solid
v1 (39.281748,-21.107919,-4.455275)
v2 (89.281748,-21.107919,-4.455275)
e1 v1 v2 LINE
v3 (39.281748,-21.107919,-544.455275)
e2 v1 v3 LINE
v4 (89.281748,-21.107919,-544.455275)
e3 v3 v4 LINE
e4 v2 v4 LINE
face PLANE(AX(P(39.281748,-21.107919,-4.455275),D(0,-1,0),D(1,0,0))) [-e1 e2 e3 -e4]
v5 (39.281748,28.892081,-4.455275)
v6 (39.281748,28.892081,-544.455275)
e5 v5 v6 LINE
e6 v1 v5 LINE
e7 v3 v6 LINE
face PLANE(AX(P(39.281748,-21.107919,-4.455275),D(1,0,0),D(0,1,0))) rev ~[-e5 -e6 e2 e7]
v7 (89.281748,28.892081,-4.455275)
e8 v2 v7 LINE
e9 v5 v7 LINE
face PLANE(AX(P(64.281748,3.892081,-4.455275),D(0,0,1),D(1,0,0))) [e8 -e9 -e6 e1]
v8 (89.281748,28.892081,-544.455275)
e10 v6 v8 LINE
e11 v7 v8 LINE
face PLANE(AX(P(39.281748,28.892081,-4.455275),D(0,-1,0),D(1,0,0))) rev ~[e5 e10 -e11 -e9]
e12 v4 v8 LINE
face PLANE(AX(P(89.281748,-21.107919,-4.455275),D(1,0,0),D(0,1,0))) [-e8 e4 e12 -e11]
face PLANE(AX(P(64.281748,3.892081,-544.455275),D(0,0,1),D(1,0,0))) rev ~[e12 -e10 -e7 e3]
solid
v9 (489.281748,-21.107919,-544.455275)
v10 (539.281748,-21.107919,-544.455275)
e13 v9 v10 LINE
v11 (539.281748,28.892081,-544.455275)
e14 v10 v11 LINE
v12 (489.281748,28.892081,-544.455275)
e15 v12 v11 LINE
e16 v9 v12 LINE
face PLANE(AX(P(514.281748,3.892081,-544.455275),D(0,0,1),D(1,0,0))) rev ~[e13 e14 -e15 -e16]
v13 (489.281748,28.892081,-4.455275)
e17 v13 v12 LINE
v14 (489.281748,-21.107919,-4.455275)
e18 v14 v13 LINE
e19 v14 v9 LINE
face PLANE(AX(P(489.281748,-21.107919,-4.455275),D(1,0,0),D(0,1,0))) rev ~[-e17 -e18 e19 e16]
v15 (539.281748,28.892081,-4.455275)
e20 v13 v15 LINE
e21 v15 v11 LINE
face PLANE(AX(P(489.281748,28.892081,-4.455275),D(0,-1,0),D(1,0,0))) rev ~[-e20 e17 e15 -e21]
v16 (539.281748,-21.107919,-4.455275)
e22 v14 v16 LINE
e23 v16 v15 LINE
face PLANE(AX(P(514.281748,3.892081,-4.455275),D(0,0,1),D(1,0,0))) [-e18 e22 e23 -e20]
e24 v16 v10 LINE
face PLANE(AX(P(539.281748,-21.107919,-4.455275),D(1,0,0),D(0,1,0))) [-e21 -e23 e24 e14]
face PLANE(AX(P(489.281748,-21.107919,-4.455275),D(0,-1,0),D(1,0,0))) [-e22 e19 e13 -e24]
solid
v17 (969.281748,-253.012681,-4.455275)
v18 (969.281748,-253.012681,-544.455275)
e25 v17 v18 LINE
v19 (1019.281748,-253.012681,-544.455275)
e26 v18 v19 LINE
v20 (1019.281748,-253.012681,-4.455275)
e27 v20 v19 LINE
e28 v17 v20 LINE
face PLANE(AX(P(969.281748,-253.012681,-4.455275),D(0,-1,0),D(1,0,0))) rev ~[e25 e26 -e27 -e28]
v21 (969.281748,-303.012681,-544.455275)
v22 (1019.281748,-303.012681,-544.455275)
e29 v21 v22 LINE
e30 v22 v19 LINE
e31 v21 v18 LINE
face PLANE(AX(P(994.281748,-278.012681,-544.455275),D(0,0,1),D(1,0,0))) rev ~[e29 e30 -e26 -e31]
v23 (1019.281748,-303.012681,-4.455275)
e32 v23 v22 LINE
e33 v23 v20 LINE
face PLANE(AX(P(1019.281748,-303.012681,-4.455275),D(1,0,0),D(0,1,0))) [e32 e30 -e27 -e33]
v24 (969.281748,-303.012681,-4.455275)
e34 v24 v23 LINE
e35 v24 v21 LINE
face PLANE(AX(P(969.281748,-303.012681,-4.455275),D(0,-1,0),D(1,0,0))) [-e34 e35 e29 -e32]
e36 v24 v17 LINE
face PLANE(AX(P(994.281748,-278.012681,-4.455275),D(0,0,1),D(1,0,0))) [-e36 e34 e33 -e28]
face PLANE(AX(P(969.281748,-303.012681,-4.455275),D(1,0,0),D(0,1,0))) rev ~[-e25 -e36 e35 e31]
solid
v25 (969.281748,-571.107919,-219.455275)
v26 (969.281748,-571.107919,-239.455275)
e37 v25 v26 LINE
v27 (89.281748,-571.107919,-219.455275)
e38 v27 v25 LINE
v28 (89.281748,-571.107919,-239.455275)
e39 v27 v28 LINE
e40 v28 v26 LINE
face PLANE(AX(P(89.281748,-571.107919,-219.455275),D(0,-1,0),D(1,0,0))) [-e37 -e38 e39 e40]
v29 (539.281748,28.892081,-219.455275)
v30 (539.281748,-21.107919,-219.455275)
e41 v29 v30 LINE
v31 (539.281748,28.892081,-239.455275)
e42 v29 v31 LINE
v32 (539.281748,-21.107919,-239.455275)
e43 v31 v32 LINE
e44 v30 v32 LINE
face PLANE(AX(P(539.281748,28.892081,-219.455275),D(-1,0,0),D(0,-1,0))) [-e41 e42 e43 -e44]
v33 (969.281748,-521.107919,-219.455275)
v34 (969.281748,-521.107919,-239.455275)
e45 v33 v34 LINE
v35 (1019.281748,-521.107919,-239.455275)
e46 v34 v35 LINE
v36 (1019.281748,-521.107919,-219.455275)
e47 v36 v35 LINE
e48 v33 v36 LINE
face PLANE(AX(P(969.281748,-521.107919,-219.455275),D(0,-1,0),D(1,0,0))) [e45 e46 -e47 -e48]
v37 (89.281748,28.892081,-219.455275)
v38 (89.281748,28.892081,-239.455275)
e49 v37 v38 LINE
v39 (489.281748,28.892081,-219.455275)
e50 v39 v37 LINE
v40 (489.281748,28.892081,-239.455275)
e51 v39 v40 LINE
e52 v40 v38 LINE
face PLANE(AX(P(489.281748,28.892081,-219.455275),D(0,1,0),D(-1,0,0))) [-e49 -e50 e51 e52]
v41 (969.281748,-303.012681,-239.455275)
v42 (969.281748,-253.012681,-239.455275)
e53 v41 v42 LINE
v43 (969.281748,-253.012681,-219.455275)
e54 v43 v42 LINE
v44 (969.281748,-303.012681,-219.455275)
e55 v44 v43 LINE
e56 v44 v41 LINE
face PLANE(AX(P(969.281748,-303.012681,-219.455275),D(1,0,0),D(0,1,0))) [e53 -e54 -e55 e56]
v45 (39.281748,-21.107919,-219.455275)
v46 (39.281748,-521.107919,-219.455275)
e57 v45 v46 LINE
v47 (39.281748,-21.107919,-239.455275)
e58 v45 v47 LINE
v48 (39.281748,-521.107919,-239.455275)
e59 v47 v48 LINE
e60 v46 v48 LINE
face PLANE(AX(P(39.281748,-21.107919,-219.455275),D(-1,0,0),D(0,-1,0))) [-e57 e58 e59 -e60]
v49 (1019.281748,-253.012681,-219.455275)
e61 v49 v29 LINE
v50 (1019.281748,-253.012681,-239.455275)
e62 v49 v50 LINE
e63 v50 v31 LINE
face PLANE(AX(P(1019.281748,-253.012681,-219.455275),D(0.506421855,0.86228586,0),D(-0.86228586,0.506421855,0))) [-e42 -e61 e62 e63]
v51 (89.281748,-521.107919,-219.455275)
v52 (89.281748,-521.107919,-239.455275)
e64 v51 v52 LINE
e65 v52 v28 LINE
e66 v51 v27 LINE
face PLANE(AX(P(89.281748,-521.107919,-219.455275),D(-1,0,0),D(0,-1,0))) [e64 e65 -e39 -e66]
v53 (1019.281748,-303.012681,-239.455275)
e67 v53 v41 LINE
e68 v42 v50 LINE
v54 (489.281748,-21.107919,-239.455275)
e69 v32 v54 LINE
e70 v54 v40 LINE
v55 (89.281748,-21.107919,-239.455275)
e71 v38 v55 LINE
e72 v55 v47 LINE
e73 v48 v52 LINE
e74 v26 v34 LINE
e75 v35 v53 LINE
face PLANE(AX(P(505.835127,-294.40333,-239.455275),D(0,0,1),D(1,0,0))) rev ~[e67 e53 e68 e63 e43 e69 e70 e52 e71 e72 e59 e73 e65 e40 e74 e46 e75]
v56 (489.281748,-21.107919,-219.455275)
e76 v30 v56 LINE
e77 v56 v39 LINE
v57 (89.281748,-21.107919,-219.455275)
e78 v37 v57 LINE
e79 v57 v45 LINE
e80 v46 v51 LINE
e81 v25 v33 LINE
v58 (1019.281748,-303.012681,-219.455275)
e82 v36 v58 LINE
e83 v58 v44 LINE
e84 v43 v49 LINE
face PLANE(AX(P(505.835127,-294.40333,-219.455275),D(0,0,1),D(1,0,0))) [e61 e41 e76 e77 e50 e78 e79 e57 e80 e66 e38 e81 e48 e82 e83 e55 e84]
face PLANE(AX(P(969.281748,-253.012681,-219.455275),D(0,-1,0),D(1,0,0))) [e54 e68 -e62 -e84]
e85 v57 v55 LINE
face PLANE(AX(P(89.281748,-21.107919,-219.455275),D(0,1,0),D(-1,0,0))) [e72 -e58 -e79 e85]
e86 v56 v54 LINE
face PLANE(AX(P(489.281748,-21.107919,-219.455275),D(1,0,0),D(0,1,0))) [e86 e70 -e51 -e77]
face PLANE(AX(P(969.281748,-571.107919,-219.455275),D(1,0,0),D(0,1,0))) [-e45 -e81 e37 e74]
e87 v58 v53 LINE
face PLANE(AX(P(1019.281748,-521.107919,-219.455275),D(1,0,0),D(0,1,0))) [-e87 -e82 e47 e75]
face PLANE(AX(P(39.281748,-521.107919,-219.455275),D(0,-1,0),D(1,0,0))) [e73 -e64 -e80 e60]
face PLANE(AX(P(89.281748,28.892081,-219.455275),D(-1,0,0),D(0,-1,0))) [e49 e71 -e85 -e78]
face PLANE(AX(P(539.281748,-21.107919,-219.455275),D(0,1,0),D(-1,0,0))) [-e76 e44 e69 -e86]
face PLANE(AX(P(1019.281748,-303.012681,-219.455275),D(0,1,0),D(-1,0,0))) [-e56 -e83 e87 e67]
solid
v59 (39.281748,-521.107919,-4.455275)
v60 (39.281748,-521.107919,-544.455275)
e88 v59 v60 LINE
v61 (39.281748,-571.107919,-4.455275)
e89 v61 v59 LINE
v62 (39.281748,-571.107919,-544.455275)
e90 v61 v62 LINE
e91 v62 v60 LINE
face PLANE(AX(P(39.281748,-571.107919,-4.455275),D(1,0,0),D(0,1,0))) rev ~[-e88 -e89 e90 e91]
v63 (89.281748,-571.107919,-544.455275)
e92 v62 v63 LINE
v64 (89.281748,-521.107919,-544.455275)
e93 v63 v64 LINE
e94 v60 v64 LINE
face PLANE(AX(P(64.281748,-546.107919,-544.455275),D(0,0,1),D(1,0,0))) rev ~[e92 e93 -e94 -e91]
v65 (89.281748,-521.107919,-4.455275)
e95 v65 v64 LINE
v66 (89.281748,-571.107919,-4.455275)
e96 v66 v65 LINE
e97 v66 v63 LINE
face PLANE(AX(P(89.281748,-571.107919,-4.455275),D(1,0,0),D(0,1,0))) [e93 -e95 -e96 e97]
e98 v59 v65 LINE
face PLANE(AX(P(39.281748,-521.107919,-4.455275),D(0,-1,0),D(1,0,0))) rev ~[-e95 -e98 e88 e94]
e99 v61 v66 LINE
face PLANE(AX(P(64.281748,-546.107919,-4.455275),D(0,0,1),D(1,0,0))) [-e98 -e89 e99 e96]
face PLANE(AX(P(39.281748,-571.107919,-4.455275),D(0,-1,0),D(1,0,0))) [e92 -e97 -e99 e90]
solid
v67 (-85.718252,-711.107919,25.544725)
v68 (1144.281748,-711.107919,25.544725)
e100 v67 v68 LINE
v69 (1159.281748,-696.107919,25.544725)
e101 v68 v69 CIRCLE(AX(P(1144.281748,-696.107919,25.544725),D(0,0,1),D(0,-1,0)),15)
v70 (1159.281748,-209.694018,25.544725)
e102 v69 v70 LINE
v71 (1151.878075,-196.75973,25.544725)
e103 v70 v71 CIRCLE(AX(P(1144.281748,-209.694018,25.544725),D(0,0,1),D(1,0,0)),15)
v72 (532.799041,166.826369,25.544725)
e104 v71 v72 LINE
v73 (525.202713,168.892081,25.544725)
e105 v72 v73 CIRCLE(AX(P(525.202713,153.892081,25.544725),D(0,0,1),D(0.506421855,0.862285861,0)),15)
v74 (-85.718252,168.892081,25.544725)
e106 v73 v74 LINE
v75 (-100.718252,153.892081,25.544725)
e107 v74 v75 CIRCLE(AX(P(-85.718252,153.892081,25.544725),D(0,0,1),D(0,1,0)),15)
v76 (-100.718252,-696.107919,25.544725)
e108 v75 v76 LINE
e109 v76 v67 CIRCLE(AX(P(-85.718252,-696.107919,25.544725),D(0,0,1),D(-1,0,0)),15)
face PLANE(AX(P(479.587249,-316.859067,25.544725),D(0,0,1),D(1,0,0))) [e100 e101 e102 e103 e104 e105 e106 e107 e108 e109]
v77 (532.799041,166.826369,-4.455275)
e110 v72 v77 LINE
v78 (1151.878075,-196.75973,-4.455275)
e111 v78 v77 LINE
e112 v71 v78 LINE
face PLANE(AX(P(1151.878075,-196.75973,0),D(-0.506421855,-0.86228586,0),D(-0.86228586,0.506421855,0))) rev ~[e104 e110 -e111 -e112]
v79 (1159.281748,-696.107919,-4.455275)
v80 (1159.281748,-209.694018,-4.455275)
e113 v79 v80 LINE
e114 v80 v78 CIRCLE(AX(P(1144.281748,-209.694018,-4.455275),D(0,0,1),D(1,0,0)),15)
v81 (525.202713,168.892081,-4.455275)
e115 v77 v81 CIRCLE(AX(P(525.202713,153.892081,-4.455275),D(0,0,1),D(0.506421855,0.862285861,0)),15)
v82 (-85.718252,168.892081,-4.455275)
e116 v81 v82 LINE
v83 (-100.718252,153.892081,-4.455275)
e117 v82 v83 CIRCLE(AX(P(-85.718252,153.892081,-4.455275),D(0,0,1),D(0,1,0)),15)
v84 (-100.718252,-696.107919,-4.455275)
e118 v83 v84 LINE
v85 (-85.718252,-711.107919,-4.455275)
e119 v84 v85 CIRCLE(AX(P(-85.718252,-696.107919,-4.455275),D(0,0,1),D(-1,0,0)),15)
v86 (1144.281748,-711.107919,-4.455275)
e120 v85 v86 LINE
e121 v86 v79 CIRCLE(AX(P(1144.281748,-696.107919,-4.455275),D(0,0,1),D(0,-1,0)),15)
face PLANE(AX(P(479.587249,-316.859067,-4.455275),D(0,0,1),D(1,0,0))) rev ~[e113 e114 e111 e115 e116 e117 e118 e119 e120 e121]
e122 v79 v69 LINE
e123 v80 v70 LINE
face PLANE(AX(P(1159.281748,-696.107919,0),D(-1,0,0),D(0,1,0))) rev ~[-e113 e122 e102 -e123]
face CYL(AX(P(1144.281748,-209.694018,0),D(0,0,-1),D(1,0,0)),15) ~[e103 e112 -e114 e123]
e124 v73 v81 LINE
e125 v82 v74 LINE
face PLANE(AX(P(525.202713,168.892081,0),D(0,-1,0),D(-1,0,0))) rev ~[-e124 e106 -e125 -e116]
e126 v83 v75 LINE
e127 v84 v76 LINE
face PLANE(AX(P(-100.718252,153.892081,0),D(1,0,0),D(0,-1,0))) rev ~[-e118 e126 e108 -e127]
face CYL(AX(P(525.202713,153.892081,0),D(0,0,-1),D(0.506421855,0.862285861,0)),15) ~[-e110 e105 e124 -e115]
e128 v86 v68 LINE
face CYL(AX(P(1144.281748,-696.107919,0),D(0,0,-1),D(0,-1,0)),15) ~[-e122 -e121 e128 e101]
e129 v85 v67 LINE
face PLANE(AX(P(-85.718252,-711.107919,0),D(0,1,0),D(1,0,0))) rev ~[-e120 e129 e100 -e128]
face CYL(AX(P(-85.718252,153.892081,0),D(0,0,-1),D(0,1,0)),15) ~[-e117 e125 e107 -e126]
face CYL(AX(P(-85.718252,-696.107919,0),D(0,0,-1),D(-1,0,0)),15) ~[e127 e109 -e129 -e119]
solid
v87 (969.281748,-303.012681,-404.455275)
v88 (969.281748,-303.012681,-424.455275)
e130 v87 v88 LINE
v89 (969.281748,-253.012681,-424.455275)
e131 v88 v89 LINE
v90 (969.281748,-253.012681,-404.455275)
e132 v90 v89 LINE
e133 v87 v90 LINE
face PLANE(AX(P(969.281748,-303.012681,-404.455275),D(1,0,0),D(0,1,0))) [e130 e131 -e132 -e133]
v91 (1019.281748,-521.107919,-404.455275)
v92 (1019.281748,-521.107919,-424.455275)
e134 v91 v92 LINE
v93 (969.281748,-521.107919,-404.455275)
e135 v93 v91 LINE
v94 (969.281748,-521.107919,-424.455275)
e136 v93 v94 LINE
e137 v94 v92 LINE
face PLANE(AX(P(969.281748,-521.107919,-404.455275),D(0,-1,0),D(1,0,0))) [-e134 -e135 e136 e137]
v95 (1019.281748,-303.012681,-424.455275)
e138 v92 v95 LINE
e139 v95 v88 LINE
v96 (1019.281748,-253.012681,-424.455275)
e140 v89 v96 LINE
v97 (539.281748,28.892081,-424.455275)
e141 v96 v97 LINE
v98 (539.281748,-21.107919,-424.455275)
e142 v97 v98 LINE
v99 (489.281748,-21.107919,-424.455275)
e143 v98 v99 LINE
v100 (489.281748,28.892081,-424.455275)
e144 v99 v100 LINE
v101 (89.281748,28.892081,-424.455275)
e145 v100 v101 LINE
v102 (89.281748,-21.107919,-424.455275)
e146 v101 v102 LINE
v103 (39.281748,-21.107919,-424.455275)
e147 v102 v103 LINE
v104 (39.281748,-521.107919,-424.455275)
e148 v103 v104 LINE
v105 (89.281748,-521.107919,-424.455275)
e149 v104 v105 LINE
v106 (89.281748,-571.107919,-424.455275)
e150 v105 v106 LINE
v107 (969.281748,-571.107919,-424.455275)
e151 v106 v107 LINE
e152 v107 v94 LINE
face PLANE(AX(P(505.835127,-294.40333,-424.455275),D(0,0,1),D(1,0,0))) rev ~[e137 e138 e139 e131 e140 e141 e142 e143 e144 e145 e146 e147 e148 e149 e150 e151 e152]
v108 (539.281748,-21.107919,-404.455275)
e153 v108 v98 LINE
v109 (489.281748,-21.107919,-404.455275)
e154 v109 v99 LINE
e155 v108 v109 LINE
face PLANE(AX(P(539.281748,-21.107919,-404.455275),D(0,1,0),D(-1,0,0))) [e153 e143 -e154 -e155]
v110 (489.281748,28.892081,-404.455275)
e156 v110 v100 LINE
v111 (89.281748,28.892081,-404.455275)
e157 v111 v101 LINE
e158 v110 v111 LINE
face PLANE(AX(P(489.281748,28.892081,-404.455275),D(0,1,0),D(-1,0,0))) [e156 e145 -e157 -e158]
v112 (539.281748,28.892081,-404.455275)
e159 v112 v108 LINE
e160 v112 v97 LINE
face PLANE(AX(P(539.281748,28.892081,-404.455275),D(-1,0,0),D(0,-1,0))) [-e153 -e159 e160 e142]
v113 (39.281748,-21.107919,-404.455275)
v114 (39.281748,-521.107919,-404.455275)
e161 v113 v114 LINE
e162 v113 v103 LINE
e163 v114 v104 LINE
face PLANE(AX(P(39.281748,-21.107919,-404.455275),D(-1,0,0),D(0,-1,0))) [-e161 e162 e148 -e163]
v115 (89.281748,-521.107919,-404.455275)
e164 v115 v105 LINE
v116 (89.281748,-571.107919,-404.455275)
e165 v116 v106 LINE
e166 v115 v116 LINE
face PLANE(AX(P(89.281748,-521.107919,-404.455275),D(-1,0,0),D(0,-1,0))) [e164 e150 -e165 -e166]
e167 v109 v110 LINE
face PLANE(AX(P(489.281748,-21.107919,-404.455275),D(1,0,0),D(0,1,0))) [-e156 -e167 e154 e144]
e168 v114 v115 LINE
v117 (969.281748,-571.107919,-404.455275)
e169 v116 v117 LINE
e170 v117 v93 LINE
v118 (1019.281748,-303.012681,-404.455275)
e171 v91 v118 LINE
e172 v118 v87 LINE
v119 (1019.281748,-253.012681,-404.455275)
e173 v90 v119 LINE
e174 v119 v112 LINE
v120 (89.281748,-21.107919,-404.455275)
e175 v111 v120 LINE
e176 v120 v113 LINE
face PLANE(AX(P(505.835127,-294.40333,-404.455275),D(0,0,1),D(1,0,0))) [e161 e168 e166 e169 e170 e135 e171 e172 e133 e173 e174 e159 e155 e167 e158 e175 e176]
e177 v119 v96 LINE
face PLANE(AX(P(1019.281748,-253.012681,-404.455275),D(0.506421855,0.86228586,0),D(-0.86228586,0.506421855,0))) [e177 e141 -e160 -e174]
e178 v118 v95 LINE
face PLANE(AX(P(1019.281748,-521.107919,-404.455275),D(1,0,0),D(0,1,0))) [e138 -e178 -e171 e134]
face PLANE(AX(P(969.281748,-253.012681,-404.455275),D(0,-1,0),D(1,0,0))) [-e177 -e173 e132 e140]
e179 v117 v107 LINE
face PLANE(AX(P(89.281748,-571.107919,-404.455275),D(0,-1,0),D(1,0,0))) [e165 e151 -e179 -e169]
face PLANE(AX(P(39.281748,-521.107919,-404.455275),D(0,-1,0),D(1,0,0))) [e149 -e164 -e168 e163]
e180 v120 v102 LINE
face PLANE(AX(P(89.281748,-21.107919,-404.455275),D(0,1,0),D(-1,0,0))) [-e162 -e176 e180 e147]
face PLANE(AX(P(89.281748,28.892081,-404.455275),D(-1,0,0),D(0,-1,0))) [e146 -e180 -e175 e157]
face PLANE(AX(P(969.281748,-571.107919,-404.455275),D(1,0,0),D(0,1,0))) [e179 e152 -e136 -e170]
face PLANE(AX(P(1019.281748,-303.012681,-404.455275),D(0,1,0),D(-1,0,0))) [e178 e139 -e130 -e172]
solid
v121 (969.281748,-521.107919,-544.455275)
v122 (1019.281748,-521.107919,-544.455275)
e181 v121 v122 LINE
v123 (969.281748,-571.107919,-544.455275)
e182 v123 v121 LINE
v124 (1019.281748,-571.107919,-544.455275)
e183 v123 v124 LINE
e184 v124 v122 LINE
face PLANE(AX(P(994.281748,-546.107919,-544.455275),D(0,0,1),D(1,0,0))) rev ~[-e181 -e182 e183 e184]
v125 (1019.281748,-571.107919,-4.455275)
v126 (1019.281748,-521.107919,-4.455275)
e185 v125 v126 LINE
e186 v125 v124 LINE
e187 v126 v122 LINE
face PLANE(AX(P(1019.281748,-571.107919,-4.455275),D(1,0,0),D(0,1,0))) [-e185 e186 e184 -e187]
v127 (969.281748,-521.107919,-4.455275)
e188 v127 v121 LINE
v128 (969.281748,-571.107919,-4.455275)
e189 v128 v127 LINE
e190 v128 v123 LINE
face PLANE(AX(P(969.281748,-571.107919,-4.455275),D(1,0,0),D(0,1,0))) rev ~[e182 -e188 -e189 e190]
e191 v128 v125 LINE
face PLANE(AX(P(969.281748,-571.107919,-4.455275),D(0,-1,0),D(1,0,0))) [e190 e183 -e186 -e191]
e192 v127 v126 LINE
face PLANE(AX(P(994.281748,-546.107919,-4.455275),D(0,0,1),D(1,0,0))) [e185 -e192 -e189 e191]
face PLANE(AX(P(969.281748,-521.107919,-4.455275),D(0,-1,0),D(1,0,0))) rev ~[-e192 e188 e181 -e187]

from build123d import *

# Parameters (mm, degrees)
F2_START      = -4.4552753679
F0_W          = 50
F0_H          = 50
F2_DEPTH      = 540
F3_DEPTH      = 4.4552753679
F3_DEPTH_BACK = 25.5447246321
F4_START      = -404.4552753679
F4_DEPTH      = 20
F5_START      = -219.4552753679
F5_DEPTH      = 20


with BuildPart() as f2:
    # F0 (on Top) → F2 (new body)
    with BuildSketch(Plane.XY.offset(F2_START)):
        with Locations((64.2817475274, -546.1079187691)):
            Rectangle(F0_W, F0_H)
    extrude(amount=-F2_DEPTH)


with BuildPart() as f2b:
    # F0 (on Top) → F2, piece 2 (new body)
    with BuildSketch(Plane.XY.offset(F2_START)):
        with Locations((994.2817475274, -546.1079187691)):
            Rectangle(F0_W, F0_H)
    extrude(amount=-F2_DEPTH)


with BuildPart() as f2c:
    # F0 (on Top) → F2, piece 3 (new body)
    with BuildSketch(Plane.XY.offset(F2_START)):
        with Locations((994.2817475274, -278.0126806739)):
            Rectangle(F0_W, F0_H)
    extrude(amount=-F2_DEPTH)


with BuildPart() as f2d:
    # F0 (on Top) → F2, piece 4 (new body)
    with BuildSketch(Plane.XY.offset(F2_START)):
        with Locations((514.2817475274, 3.8920812309)):
            Rectangle(F0_W, F0_H)
    extrude(amount=-F2_DEPTH)


with BuildPart() as f2e:
    # F0 (on Top) → F2, piece 5 (new body)
    with BuildSketch(Plane.XY.offset(F2_START)):
        with Locations((64.2817475274, 3.8920812309)):
            Rectangle(F0_W, F0_H)
    extrude(amount=-F2_DEPTH)


with BuildPart() as f3:
    # F0 (on Top) → F3 (new body, two sides)
    with BuildSketch(Plane.XY) as f3_sk:
        with BuildLine():
            Line((525.2027132718, 168.8920812309), (-85.7182524726, 168.8920812309))
            ThreePointArc((-85.7182524726, 168.8920812309), (-96.3248541904, 164.4986829487), (-100.7182524726, 153.8920812309))
            Line((-100.7182524726, 153.8920812309), (-100.7182524726, -696.1079187691))
            ThreePointArc((-100.7182524726, -696.1079187691), (-96.3248541904, -706.7145204869), (-85.7182524726, -711.1079187691))
            Line((-85.7182524726, -711.1079187691), (1144.2817475274, -711.1079187691))
            ThreePointArc((1144.2817475274, -711.1079187691), (1154.8883492452, -706.7145204869), (1159.2817475274, -696.1079187691))
            Line((1159.2817475274, -696.1079187691), (1159.2817475274, -209.6940182526))
            ThreePointArc((1159.2817475274, -209.6940182526), (1157.2999063312, -202.2423378139), (1151.8780753461, -196.7597303451))
            Line((1151.8780753461, -196.7597303451), (532.7990410905, 166.8263691383))
            ThreePointArc((532.7990410905, 166.8263691383), (529.1388078711, 168.366443369), (525.2027132718, 168.8920812309))
        make_face()
        Polygon((39.2817475274, -21.1079187691), (39.2817475274, 28.8920812309), (89.2817475274, 28.8920812309), (489.2817475274, 28.8920812309), (539.2817475274, 28.8920812309), (1019.2817475274, -253.0126806739), (1019.2817475274, -303.0126806739), (1019.2817475274, -521.1079187691), (1019.2817475274, -571.1079187691), (969.2817475274, -571.1079187691), (89.2817475274, -571.1079187691), (39.2817475274, -571.1079187691), (39.2817475274, -521.1079187691), align=None, mode=Mode.SUBTRACT)
        Polygon((489.2817475274, 28.8920812309), (89.2817475274, 28.8920812309), (89.2817475274, -21.1079187691), (39.2817475274, -21.1079187691), (39.2817475274, -521.1079187691), (89.2817475274, -521.1079187691), (89.2817475274, -571.1079187691), (969.2817475274, -571.1079187691), (969.2817475274, -521.1079187691), (1019.2817475274, -521.1079187691), (1019.2817475274, -303.0126806739), (969.2817475274, -303.0126806739), (969.2817475274, -253.0126806739), (1019.2817475274, -253.0126806739), (539.2817475274, 28.8920812309), (539.2817475274, -21.1079187691), (489.2817475274, -21.1079187691), align=None)
        with Locations((64.2817475274, -546.1079187691)):
            Rectangle(F0_W, F0_H)
        with Locations((994.2817475274, -546.1079187691)):
            Rectangle(F0_W, F0_H)
        with Locations((994.2817475274, -278.0126806739)):
            Rectangle(F0_W, F0_H)
        with Locations((514.2817475274, 3.8920812309)):
            Rectangle(F0_W, F0_H)
        with Locations((64.2817475274, 3.8920812309)):
            Rectangle(F0_W, F0_H)
    extrude(amount=-F3_DEPTH)
    extrude(f3_sk.sketch, amount=F3_DEPTH_BACK)


with BuildPart() as f4:
    # F0 (on Top) → F4 (new body)
    with BuildSketch(Plane.XY.offset(F4_START)):
        Polygon((489.2817475274, 28.8920812309), (89.2817475274, 28.8920812309), (89.2817475274, -21.1079187691), (39.2817475274, -21.1079187691), (39.2817475274, -521.1079187691), (89.2817475274, -521.1079187691), (89.2817475274, -571.1079187691), (969.2817475274, -571.1079187691), (969.2817475274, -521.1079187691), (1019.2817475274, -521.1079187691), (1019.2817475274, -303.0126806739), (969.2817475274, -303.0126806739), (969.2817475274, -253.0126806739), (1019.2817475274, -253.0126806739), (539.2817475274, 28.8920812309), (539.2817475274, -21.1079187691), (489.2817475274, -21.1079187691), align=None)
    extrude(amount=-F4_DEPTH)


with BuildPart() as f5:
    # F0 (on Top) → F5 (new body)
    with BuildSketch(Plane.XY.offset(F5_START)):
        Polygon((489.2817475274, 28.8920812309), (89.2817475274, 28.8920812309), (89.2817475274, -21.1079187691), (39.2817475274, -21.1079187691), (39.2817475274, -521.1079187691), (89.2817475274, -521.1079187691), (89.2817475274, -571.1079187691), (969.2817475274, -571.1079187691), (969.2817475274, -521.1079187691), (1019.2817475274, -521.1079187691), (1019.2817475274, -303.0126806739), (969.2817475274, -303.0126806739), (969.2817475274, -253.0126806739), (1019.2817475274, -253.0126806739), (539.2817475274, 28.8920812309), (539.2817475274, -21.1079187691), (489.2817475274, -21.1079187691), align=None)
    extrude(amount=-F5_DEPTH)


solid = Compound([f2.part, f2b.part, f2c.part, f2d.part, f2e.part, f3.part, f4.part, f5.part])
